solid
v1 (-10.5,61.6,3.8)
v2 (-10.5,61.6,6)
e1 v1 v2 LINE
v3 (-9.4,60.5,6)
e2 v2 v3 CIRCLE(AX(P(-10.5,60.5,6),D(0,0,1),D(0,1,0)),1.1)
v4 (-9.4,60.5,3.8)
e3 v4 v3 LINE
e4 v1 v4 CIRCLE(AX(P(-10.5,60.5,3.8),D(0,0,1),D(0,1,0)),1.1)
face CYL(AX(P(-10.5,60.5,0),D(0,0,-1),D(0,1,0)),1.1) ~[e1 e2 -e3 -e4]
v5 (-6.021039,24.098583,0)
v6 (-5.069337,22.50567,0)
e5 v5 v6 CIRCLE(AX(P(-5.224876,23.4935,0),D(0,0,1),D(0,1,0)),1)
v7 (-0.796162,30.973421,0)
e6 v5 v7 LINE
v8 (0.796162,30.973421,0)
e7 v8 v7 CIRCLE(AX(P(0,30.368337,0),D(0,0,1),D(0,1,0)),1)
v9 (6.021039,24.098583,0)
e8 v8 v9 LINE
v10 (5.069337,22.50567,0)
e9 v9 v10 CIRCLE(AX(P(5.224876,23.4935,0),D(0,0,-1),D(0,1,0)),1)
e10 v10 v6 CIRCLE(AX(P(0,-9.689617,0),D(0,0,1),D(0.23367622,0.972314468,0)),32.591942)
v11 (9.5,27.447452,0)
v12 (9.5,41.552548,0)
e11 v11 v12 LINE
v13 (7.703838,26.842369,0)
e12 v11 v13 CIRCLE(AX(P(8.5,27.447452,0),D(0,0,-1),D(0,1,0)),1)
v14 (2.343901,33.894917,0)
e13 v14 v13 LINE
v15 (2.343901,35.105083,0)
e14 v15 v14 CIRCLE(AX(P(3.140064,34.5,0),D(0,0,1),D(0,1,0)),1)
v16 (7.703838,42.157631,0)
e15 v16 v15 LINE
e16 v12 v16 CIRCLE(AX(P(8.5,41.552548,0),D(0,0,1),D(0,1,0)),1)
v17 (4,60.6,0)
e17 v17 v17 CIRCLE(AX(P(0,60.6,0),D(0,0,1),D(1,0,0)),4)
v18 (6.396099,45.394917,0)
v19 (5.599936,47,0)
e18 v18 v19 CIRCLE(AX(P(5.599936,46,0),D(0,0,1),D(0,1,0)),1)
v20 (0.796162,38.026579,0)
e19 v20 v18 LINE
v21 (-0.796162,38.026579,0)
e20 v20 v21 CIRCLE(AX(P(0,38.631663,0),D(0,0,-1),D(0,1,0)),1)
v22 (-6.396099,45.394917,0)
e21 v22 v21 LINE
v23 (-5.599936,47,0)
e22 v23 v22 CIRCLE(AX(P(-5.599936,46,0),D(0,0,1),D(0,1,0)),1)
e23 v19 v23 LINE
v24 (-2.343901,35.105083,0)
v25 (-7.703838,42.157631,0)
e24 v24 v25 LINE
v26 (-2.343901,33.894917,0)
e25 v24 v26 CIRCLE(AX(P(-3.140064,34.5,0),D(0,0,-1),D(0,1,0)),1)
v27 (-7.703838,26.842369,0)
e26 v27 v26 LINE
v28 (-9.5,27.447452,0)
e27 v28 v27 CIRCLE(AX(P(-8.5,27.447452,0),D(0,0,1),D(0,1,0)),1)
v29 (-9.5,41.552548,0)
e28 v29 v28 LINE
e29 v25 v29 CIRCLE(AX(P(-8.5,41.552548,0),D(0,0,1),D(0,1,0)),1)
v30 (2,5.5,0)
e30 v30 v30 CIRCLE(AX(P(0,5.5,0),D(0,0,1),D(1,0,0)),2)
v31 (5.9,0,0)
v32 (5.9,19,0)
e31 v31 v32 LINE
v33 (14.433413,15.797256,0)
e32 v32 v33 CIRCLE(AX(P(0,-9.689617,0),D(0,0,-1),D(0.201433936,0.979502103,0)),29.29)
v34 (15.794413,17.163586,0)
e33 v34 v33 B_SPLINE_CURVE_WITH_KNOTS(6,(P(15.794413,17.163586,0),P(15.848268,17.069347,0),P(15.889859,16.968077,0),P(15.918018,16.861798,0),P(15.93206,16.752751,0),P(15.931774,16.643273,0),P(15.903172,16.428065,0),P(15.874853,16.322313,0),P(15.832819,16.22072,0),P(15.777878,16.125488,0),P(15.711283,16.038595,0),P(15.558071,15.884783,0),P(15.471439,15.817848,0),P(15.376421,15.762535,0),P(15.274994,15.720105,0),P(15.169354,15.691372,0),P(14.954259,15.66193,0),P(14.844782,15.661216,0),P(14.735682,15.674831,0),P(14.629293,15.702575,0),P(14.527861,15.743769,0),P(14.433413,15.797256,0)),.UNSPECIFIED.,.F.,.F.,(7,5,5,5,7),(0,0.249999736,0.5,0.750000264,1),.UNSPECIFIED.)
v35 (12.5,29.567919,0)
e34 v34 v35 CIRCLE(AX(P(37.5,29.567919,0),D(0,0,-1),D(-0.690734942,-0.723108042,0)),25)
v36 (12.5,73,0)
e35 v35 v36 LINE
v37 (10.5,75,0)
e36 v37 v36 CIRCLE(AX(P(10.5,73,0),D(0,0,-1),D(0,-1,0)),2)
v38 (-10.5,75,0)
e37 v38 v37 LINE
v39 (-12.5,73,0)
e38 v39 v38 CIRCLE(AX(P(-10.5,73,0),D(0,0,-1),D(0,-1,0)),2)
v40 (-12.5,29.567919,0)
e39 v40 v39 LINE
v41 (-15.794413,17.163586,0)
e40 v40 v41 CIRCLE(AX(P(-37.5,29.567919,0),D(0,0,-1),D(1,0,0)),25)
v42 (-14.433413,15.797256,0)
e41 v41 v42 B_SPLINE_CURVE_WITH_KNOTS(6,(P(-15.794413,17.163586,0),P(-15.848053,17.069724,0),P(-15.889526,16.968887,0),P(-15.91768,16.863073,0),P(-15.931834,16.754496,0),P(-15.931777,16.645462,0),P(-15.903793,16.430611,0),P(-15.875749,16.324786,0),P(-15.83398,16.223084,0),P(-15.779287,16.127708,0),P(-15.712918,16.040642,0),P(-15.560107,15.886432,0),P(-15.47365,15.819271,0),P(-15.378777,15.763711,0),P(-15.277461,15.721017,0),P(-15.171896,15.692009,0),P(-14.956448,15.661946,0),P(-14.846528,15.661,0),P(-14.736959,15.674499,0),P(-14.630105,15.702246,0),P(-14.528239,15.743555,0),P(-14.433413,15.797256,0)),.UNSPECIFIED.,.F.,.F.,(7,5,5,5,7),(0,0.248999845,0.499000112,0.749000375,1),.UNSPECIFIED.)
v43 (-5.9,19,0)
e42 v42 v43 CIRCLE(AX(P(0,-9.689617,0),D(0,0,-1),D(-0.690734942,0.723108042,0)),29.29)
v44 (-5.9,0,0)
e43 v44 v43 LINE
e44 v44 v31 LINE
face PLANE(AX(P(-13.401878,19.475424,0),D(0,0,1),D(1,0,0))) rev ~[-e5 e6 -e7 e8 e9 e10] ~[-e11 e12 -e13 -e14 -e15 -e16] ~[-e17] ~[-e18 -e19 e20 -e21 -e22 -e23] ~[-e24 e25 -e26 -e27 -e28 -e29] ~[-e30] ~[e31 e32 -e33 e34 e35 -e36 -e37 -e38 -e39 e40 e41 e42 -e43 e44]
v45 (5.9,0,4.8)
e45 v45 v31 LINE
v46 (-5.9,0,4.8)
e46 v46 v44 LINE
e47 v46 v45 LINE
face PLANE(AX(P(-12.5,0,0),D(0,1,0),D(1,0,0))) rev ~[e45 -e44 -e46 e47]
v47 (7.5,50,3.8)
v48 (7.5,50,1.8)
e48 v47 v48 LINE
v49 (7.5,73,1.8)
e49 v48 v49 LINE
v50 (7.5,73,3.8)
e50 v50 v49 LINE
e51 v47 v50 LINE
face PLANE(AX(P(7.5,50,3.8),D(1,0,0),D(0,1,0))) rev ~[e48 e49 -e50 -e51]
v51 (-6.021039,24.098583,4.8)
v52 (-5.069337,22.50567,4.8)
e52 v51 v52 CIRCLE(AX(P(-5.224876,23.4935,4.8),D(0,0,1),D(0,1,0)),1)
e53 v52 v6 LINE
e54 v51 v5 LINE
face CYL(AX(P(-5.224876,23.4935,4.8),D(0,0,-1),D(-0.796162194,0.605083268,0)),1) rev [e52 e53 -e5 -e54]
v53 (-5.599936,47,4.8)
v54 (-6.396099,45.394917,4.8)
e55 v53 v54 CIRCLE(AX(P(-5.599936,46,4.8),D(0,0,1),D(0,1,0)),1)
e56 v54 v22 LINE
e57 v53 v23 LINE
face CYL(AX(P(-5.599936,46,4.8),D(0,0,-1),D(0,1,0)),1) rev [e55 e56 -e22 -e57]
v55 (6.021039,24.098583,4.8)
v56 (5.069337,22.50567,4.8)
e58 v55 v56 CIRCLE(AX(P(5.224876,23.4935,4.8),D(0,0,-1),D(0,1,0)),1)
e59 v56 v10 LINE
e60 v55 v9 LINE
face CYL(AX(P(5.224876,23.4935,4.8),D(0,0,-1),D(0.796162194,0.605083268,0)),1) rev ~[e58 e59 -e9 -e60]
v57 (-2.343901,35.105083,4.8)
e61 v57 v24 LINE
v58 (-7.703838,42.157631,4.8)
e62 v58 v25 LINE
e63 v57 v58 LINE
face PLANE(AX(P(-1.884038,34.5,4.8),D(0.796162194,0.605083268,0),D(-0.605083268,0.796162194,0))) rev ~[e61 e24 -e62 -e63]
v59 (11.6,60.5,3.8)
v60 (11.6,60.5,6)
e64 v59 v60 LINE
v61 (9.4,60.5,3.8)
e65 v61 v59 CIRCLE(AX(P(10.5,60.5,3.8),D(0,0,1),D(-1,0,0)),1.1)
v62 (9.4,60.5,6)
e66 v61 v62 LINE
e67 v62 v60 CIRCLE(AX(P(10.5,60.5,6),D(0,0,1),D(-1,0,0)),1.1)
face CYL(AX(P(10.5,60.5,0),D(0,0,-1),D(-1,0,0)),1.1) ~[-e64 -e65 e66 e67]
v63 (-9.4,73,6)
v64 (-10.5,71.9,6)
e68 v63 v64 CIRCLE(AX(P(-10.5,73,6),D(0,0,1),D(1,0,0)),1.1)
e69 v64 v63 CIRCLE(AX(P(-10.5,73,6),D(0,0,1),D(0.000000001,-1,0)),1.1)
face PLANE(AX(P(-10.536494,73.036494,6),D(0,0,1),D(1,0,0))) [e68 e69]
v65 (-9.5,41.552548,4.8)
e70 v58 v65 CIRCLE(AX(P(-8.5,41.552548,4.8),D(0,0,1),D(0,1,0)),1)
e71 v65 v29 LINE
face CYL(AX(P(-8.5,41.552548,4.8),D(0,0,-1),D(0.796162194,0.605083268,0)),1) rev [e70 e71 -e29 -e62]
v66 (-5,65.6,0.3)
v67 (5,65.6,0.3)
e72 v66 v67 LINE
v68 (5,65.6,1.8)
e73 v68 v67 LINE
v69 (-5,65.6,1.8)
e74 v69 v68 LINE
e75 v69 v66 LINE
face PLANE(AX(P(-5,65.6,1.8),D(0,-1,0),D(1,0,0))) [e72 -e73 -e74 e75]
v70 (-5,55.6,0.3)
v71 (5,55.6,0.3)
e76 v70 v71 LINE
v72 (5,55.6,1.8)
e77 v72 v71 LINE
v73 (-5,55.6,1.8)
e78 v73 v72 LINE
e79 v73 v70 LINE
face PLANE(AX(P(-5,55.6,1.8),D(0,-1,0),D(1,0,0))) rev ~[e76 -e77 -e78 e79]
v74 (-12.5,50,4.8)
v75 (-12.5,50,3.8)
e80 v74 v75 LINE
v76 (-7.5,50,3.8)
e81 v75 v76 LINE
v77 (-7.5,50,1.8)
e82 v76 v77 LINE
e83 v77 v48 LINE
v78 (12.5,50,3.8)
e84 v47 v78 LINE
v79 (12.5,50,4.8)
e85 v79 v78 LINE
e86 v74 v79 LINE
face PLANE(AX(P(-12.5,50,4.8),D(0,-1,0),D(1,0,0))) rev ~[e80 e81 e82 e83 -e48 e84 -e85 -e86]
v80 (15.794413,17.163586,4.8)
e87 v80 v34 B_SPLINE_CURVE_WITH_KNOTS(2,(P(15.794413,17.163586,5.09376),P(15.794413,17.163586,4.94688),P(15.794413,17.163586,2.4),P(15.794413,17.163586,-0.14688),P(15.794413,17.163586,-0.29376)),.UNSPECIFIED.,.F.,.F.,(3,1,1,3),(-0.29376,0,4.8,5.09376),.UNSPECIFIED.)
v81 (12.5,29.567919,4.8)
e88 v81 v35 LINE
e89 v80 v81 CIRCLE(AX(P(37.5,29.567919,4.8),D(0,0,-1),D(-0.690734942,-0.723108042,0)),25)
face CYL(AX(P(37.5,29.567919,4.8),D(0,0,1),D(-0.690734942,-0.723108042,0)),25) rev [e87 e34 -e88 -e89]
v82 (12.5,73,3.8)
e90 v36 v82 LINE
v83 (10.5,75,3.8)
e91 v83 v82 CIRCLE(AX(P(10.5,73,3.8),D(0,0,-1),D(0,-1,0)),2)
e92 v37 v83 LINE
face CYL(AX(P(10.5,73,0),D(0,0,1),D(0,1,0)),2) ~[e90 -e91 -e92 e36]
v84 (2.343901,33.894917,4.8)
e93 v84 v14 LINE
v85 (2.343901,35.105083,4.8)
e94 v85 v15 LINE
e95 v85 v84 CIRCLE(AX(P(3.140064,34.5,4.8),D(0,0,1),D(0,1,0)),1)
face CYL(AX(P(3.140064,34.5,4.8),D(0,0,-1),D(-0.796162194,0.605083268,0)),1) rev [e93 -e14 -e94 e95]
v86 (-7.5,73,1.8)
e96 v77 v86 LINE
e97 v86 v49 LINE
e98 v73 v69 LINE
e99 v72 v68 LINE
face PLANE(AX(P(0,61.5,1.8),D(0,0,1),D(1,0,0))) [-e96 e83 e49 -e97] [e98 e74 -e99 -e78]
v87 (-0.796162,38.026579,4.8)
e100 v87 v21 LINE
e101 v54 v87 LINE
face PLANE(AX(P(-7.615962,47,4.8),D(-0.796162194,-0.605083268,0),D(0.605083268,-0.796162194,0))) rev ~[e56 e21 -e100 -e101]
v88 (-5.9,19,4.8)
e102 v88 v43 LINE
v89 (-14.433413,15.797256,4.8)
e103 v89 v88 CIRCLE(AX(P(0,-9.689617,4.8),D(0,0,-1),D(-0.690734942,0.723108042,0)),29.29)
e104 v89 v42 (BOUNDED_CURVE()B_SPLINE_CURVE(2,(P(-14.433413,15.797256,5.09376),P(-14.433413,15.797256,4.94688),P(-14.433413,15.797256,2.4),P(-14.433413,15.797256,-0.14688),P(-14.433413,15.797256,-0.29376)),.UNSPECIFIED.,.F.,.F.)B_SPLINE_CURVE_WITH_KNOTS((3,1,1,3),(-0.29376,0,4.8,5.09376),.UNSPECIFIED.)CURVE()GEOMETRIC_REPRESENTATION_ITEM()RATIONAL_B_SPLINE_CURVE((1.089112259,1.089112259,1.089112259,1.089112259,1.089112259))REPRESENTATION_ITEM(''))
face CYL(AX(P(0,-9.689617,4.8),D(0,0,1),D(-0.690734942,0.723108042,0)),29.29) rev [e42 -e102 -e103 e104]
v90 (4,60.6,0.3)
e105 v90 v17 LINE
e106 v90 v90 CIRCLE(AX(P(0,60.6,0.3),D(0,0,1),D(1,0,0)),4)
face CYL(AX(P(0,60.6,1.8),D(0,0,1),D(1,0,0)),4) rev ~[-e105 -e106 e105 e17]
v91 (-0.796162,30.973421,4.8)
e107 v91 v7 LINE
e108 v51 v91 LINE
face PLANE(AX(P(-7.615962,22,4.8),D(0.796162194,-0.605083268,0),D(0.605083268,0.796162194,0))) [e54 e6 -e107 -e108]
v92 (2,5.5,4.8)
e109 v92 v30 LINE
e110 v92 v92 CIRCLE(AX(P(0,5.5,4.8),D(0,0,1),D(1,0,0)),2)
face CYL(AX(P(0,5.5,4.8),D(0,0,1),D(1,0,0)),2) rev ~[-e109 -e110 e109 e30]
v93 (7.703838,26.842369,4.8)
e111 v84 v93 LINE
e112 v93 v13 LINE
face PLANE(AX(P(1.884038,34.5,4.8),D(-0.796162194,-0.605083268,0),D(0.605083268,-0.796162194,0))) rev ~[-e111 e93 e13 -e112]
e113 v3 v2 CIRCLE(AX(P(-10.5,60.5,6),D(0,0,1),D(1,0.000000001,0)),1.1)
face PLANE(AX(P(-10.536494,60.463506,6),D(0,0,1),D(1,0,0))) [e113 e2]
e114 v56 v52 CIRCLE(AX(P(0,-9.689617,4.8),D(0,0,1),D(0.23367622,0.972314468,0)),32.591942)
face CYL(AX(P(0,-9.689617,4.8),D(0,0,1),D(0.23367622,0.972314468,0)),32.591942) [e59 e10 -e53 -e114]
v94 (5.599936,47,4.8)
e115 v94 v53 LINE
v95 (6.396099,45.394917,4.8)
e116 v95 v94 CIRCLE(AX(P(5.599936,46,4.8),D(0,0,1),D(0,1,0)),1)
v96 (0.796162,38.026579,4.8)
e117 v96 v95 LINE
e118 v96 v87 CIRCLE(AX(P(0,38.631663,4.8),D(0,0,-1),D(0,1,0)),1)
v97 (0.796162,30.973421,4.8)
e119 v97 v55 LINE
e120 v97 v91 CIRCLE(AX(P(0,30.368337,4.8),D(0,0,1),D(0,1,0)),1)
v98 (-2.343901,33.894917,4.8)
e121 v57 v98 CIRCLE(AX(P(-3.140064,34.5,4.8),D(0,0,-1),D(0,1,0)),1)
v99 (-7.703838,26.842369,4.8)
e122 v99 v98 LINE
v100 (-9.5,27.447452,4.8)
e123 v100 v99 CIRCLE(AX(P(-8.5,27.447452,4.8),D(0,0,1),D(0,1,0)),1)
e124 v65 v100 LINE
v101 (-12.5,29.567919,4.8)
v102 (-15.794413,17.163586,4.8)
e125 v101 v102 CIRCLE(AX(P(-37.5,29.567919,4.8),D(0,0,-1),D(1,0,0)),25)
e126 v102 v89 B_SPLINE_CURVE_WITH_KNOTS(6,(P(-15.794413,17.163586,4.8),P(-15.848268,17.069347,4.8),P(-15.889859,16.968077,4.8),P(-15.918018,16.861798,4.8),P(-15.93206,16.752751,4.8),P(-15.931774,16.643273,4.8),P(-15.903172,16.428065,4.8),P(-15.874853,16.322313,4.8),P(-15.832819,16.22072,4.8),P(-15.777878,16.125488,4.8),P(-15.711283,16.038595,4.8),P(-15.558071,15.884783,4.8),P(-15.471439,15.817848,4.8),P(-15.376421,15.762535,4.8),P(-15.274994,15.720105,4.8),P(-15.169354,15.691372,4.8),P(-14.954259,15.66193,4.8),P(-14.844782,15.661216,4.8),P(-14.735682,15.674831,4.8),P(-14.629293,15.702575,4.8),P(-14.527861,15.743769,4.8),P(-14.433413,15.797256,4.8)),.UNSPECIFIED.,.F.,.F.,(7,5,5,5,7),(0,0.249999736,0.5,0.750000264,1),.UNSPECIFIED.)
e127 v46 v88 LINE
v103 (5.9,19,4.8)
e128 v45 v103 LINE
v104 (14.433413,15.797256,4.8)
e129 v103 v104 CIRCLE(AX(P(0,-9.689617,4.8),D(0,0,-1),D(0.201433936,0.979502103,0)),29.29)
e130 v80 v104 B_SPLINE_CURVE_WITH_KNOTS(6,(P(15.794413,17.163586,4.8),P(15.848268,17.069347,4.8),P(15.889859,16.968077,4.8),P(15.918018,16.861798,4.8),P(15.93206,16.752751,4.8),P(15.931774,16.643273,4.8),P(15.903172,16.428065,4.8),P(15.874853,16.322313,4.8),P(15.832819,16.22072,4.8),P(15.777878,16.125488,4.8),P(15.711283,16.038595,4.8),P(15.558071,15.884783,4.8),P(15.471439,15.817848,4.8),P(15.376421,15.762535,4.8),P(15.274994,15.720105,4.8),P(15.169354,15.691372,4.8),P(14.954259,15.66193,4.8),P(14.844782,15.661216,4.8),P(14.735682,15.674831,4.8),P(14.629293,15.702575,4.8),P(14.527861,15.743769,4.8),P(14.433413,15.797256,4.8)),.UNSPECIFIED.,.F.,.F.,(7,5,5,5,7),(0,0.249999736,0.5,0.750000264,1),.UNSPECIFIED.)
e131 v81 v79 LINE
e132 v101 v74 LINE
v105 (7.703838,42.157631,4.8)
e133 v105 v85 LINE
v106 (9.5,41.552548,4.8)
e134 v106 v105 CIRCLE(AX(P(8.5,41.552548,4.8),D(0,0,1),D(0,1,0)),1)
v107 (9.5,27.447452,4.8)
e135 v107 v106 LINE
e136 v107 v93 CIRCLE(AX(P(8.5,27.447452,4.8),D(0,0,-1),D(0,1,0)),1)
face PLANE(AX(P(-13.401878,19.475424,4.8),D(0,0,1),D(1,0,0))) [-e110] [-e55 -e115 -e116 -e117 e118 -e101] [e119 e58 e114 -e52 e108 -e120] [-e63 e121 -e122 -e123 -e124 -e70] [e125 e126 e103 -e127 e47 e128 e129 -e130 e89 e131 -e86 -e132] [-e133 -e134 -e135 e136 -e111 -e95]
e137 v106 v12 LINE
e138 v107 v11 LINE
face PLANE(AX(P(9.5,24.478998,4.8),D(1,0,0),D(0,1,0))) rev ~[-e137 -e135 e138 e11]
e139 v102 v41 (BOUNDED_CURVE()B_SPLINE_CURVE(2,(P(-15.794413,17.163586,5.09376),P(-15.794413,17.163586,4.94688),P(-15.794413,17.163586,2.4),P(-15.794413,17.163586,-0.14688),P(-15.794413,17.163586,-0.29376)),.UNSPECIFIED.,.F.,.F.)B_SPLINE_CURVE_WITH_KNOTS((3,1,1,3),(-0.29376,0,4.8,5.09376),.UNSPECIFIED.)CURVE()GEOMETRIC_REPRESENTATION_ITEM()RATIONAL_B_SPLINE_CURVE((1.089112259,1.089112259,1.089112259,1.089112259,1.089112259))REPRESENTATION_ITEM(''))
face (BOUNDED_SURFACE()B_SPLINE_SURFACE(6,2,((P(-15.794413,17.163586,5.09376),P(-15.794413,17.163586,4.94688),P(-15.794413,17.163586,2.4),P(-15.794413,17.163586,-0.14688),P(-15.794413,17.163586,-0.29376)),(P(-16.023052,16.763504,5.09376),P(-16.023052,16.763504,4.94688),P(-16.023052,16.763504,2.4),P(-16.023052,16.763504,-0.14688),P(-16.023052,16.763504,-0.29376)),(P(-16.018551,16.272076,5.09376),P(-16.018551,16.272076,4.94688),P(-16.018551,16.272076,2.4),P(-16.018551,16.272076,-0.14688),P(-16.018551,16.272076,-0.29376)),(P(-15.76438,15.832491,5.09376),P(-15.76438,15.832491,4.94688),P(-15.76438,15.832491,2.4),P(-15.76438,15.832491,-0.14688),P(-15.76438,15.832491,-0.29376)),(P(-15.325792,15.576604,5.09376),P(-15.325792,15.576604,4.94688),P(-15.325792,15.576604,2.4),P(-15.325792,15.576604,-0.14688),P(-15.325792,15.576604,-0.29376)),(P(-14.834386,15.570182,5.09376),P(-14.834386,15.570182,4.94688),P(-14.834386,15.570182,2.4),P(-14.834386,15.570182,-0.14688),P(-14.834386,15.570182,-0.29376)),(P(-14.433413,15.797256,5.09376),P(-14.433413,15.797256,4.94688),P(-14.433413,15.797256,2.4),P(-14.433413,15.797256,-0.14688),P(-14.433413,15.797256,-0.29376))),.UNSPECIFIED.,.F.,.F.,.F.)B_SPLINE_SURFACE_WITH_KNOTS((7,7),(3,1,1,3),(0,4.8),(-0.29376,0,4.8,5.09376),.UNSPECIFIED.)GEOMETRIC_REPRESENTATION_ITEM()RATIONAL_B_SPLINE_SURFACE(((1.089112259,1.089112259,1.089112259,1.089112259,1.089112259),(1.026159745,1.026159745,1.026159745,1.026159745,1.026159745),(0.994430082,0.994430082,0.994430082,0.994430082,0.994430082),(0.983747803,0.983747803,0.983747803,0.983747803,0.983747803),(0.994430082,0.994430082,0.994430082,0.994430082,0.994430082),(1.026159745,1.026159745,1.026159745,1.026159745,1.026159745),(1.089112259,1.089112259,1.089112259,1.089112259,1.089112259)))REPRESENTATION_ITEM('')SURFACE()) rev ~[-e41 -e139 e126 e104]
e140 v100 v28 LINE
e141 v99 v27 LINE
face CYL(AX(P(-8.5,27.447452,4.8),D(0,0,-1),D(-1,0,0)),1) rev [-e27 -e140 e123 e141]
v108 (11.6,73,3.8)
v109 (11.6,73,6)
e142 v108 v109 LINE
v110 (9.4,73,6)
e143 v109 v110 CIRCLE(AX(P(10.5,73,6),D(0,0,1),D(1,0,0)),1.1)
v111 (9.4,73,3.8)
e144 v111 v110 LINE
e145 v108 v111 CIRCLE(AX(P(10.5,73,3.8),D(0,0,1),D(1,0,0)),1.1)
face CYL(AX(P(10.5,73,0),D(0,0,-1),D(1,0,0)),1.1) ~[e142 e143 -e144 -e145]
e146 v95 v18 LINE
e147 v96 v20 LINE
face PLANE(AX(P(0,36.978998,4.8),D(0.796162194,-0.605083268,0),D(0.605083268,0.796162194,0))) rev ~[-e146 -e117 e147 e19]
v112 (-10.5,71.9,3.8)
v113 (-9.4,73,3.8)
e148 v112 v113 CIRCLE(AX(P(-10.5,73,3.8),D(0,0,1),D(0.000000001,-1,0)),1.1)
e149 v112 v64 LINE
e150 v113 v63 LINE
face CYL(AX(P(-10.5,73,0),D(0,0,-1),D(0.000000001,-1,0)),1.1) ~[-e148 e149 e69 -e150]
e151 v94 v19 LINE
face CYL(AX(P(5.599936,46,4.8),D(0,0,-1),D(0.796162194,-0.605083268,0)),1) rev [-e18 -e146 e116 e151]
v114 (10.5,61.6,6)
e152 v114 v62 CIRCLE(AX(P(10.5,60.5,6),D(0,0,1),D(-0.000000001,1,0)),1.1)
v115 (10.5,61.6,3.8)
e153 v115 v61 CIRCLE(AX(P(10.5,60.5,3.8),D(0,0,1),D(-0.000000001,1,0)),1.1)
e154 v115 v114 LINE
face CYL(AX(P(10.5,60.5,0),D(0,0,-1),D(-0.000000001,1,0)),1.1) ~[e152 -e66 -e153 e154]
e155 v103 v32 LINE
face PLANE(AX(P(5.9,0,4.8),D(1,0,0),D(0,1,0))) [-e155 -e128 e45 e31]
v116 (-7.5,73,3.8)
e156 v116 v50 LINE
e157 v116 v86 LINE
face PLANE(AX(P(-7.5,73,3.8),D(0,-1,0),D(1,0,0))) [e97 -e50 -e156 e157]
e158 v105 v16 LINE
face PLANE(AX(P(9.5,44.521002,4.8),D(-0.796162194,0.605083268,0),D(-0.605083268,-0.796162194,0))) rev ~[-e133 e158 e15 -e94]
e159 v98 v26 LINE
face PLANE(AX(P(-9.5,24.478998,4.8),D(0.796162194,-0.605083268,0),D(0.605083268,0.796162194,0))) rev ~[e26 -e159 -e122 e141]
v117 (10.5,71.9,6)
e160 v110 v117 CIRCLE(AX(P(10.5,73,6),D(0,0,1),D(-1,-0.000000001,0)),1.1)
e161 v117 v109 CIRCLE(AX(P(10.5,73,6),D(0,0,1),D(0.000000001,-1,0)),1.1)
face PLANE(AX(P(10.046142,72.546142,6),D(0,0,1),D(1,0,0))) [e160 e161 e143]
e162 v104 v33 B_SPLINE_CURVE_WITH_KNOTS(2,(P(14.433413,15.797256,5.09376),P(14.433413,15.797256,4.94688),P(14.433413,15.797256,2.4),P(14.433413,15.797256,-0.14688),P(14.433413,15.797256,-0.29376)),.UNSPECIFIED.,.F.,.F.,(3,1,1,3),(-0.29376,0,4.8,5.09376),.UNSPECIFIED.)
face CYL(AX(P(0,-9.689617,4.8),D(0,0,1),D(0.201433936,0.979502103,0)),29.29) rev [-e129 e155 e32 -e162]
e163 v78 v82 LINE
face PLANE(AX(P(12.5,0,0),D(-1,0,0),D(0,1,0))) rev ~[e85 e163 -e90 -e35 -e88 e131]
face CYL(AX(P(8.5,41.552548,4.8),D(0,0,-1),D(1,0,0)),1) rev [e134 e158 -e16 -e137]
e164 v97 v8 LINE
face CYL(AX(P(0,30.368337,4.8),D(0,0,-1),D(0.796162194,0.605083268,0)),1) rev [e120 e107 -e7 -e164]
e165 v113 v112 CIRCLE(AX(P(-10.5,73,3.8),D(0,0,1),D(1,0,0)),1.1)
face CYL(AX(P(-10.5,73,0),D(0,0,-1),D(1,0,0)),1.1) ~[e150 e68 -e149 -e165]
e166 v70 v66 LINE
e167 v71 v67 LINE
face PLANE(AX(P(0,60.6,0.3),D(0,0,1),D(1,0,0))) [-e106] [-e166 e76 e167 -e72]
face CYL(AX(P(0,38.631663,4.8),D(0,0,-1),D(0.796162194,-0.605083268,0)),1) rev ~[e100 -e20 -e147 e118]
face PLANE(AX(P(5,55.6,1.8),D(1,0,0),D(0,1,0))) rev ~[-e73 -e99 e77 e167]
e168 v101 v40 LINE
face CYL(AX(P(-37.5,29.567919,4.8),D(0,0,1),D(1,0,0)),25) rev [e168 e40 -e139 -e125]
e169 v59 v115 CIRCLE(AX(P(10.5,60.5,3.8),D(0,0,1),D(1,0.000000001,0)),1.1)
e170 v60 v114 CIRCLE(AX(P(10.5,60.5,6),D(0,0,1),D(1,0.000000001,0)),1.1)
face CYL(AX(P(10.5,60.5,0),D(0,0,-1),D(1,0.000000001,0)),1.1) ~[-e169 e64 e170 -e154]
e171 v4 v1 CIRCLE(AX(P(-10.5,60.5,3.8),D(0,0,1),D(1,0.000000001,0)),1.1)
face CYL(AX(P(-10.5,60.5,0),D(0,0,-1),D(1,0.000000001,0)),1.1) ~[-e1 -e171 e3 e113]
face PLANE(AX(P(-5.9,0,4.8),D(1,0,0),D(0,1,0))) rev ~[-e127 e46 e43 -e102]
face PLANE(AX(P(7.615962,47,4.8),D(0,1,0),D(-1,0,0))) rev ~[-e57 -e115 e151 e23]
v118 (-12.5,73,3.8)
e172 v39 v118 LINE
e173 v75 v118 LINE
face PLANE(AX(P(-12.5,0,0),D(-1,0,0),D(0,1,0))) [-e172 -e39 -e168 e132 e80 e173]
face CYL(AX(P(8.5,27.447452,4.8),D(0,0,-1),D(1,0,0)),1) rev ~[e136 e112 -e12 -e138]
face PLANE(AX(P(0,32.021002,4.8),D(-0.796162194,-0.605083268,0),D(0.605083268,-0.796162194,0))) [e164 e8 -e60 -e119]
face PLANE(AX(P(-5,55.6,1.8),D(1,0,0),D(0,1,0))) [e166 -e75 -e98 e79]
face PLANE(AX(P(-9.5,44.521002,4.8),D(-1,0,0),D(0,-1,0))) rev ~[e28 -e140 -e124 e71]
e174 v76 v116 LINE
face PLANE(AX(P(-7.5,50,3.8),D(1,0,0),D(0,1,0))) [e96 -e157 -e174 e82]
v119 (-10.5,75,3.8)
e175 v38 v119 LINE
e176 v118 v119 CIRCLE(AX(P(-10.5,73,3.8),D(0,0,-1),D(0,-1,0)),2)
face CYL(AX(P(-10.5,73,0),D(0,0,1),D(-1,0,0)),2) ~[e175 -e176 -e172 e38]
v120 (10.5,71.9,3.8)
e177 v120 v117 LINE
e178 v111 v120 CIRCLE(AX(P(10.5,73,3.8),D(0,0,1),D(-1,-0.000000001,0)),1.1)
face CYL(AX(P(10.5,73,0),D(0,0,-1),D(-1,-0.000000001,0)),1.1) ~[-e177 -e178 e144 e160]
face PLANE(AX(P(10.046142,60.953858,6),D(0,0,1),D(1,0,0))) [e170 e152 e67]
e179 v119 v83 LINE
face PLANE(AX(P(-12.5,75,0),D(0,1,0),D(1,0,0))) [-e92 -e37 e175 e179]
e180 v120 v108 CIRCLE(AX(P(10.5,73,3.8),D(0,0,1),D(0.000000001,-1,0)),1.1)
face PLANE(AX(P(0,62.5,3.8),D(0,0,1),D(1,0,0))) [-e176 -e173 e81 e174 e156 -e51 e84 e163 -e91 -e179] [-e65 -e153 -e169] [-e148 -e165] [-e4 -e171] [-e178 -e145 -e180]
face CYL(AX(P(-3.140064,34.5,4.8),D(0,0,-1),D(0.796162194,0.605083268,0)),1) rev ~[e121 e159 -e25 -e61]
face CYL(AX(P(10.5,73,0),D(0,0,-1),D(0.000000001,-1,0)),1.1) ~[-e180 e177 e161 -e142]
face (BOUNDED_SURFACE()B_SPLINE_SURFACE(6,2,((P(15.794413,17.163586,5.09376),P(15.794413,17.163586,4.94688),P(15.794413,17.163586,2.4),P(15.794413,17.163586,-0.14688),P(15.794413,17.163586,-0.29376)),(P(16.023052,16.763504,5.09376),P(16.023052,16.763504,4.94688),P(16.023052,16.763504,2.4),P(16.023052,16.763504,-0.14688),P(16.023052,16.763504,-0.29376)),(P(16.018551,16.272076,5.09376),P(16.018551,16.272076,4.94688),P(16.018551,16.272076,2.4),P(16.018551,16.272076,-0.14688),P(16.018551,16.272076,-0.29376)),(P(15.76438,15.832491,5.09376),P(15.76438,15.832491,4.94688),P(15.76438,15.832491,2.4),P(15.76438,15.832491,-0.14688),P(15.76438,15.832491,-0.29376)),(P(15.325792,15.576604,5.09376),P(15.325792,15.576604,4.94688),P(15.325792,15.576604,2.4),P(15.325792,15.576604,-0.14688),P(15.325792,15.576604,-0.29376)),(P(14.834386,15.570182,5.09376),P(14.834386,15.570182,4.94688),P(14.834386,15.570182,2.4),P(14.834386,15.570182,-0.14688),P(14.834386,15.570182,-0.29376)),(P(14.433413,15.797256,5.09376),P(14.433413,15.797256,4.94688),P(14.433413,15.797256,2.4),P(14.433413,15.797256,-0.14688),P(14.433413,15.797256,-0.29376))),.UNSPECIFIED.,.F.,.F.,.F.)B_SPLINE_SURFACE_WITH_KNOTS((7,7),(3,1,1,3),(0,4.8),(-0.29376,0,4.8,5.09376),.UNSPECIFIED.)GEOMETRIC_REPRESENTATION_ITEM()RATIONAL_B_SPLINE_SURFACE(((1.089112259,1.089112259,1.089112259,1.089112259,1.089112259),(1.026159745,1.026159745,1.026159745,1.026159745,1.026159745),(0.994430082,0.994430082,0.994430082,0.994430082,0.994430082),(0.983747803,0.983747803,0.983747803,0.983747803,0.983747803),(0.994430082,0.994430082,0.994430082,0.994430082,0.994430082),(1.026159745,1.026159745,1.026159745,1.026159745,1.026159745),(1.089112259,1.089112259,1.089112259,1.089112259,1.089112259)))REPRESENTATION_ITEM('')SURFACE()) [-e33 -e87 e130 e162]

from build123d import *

# Parameters (mm, degrees)
SKIZZE1_W                            = 25
SKIZZE1_H                            = 75
AUFSATZ_LINEAR_AUSTRAGEN1_DEPTH      = 4.8
SCHNITT_LINEAR_AUSTRAGEN1_DEPTH      = 5
SKIZZE3_W                            = 25
SKIZZE3_H                            = 25
SCHNITT_LINEAR_AUSTRAGEN2_DEPTH      = 1
SKIZZE4_W                            = 15
SKIZZE4_H                            = 23
SCHNITT_LINEAR_AUSTRAGEN3_DEPTH      = 2
SKIZZE5_R                            = 4
SCHNITT_LINEAR_AUSTRAGEN4_DEPTH      = 2.8
SKIZZE6_W                            = 10
SKIZZE6_H                            = 10
SKIZZE6_R                            = 4
SCHNITT_LINEAR_AUSTRAGEN5_DEPTH      = 1.5
AUFSATZ_LINEAR_AUSTRAGEN2_DEPTH      = 6
SKIZZE8_R                            = 2
SCHNITT_LINEAR_AUSTRAGEN6_DEPTH      = 2.2
SCHNITT_LINEAR_AUSTRAGEN6_DEPTH_BACK = 5.8
SKIZZE9_W                            = 6.6
SKIZZE9_H                            = 19
SCHNITT_LINEAR_AUSTRAGEN7_DEPTH      = 5.8
AUFSATZ_LINEAR_AUSTRAGEN3_DEPTH      = 4.8
VERRUNDUNG1_R                        = 2
VERRUNDUNG2_R                        = 1
SCHNITT_LINEAR_AUSTRAGEN8_DEPTH      = 5.8000001
VERRUNDUNG3_R                        = 1


with BuildPart() as part:
    # Skizze1 → Aufsatz-Linear austragen1 (new body)
    with BuildSketch(Plane.XY):
        with Locations((0, 37.5)):
            Rectangle(SKIZZE1_W, SKIZZE1_H)
    extrude(amount=AUFSATZ_LINEAR_AUSTRAGEN1_DEPTH)

    # Skizze2 → Schnitt-Linear austragen1 (cut)
    with BuildSketch(Plane.XY.offset(4.8)):
        with BuildLine():
            ThreePointArc((-9.4, 73), (-11.277817459, 73.777817459), (-10.5, 71.9))
            Line((-10.5, 71.9), (-10.5, 73))
            Line((-10.5, 73), (-9.4, 73))
        make_face()
        with BuildLine():
            Line((-10.5, 73), (-10.5, 71.9))
            ThreePointArc((-10.5, 71.9), (-9.722182541, 72.222182541), (-9.4, 73))
            Line((-9.4, 73), (-10.5, 73))
        make_face()
        with BuildLine():
            ThreePointArc((9.4, 73), (9.722182541, 72.222182541), (10.5, 71.9))
            Line((10.5, 71.9), (10.5, 73))
            Line((10.5, 73), (9.4, 73))
        make_face()
        with BuildLine():
            Line((10.5, 73), (10.5, 71.9))
            ThreePointArc((10.5, 71.9), (11.277817459, 72.222182541), (11.6, 73))
            ThreePointArc((11.6, 73), (10.5, 74.1), (9.4, 73))
            Line((9.4, 73), (10.5, 73))
        make_face()
        with BuildLine():
            ThreePointArc((9.4, 73), (9.722182541, 72.222182541), (10.5, 71.9))
            Line((10.5, 71.9), (10.5, 73))
            Line((10.5, 73), (9.4, 73))
        make_face()
        with BuildLine():
            Line((10.5, 73), (10.5, 71.9))
            ThreePointArc((10.5, 71.9), (11.277817459, 72.222182541), (11.6, 73))
            ThreePointArc((11.6, 73), (10.5, 74.1), (9.4, 73))
            Line((9.4, 73), (10.5, 73))
        make_face()
        with BuildLine():
            ThreePointArc((-10.5, 61.6), (-11.277817459, 59.722182541), (-9.4, 60.5))
            Line((-9.4, 60.5), (-10.5, 60.5))
            Line((-10.5, 60.5), (-10.5, 61.6))
        make_face()
        with BuildLine():
            Line((-10.5, 60.5), (-9.4, 60.5))
            ThreePointArc((-9.4, 60.5), (-9.722182541, 61.277817459), (-10.5, 61.6))
            Line((-10.5, 61.6), (-10.5, 60.5))
        make_face()
        with BuildLine():
            ThreePointArc((-10.5, 61.6), (-11.277817459, 59.722182541), (-9.4, 60.5))
            Line((-9.4, 60.5), (-10.5, 60.5))
            Line((-10.5, 60.5), (-10.5, 61.6))
        make_face()
        with BuildLine():
            Line((-10.5, 60.5), (-9.4, 60.5))
            ThreePointArc((-9.4, 60.5), (-9.722182541, 61.277817459), (-10.5, 61.6))
            Line((-10.5, 61.6), (-10.5, 60.5))
        make_face()
        with BuildLine():
            ThreePointArc((10.5, 61.6), (9.722182541, 61.277817459), (9.4, 60.5))
            Line((9.4, 60.5), (10.5, 60.5))
            Line((10.5, 60.5), (10.5, 61.6))
        make_face()
        with BuildLine():
            Line((10.5, 60.5), (9.4, 60.5))
            ThreePointArc((9.4, 60.5), (10.5, 59.4), (11.6, 60.5))
            ThreePointArc((11.6, 60.5), (11.277817459, 61.277817459), (10.5, 61.6))
            Line((10.5, 61.6), (10.5, 60.5))
        make_face()
        with BuildLine():
            ThreePointArc((10.5, 61.6), (9.722182541, 61.277817459), (9.4, 60.5))
            Line((9.4, 60.5), (10.5, 60.5))
            Line((10.5, 60.5), (10.5, 61.6))
        make_face()
        with BuildLine():
            Line((10.5, 60.5), (9.4, 60.5))
            ThreePointArc((9.4, 60.5), (10.5, 59.4), (11.6, 60.5))
            ThreePointArc((11.6, 60.5), (11.277817459, 61.277817459), (10.5, 61.6))
            Line((10.5, 61.6), (10.5, 60.5))
        make_face()
        with BuildLine():
            ThreePointArc((-9.4, 73), (-11.277817459, 73.777817459), (-10.5, 71.9))
            Line((-10.5, 71.9), (-10.5, 73))
            Line((-10.5, 73), (-9.4, 73))
        make_face()
        with BuildLine():
            Line((-10.5, 73), (-10.5, 71.9))
            ThreePointArc((-10.5, 71.9), (-9.722182541, 72.222182541), (-9.4, 73))
            Line((-9.4, 73), (-10.5, 73))
        make_face()
    extrude(amount=-SCHNITT_LINEAR_AUSTRAGEN1_DEPTH, mode=Mode.SUBTRACT)

    # Skizze3 → Schnitt-Linear austragen2 (cut)
    with BuildSketch(Plane.XY.offset(4.8)):
        with Locations((0, 62.5)):
            Rectangle(SKIZZE3_W, SKIZZE3_H)
    extrude(amount=-SCHNITT_LINEAR_AUSTRAGEN2_DEPTH, mode=Mode.SUBTRACT)

    # Skizze4 → Schnitt-Linear austragen3 (cut)
    with BuildSketch(Plane.XY.offset(3.8)):
        with Locations((0, 61.5)):
            Rectangle(SKIZZE4_W, SKIZZE4_H)
    extrude(amount=-SCHNITT_LINEAR_AUSTRAGEN3_DEPTH, mode=Mode.SUBTRACT)

    # Skizze5 → Schnitt-Linear austragen4 (cut, through all)
    with BuildSketch(Plane.XY.offset(1.8)):
        with Locations((0, 60.6)):
            Circle(SKIZZE5_R)
    extrude(amount=-SCHNITT_LINEAR_AUSTRAGEN4_DEPTH, mode=Mode.SUBTRACT)

    # Skizze6 → Schnitt-Linear austragen5 (cut)
    with BuildSketch(Plane.XY.offset(1.8)):
        with Locations((0, 60.6)):
            Rectangle(SKIZZE6_W, SKIZZE6_H)
        with Locations((0, 60.6)):
            Circle(SKIZZE6_R, mode=Mode.SUBTRACT)
    extrude(amount=-SCHNITT_LINEAR_AUSTRAGEN5_DEPTH, mode=Mode.SUBTRACT)

    # Skizze7 → Aufsatz-Linear austragen2 (add)
    with BuildSketch(Plane.XY):
        with BuildLine():
            ThreePointArc((-10.5, 61.6), (-11.277817459, 59.722182541), (-9.4, 60.5))
            Line((-9.4, 60.5), (-10.5, 60.5))
            Line((-10.5, 60.5), (-10.5, 61.6))
        make_face()
        with BuildLine():
            Line((-10.5, 60.5), (-9.4, 60.5))
            ThreePointArc((-9.4, 60.5), (-9.722182541, 61.277817459), (-10.5, 61.6))
            Line((-10.5, 61.6), (-10.5, 60.5))
        make_face()
        with BuildLine():
            ThreePointArc((-9.4, 73), (-11.277817459, 73.777817459), (-10.5, 71.9))
            Line((-10.5, 71.9), (-10.5, 73))
            Line((-10.5, 73), (-9.4, 73))
        make_face()
        with BuildLine():
            Line((-10.5, 73), (-10.5, 71.9))
            ThreePointArc((-10.5, 71.9), (-9.722182541, 72.222182541), (-9.4, 73))
            Line((-9.4, 73), (-10.5, 73))
        make_face()
        with BuildLine():
            ThreePointArc((10.5, 61.6), (9.722182541, 61.277817459), (9.4, 60.5))
            Line((9.4, 60.5), (10.5, 60.5))
            Line((10.5, 60.5), (10.5, 61.6))
        make_face()
        with BuildLine():
            Line((10.5, 60.5), (9.4, 60.5))
            ThreePointArc((9.4, 60.5), (10.5, 59.4), (11.6, 60.5))
            ThreePointArc((11.6, 60.5), (11.277817459, 61.277817459), (10.5, 61.6))
            Line((10.5, 61.6), (10.5, 60.5))
        make_face()
        with BuildLine():
            ThreePointArc((9.4, 73), (9.722182541, 72.222182541), (10.5, 71.9))
            Line((10.5, 71.9), (10.5, 73))
            Line((10.5, 73), (9.4, 73))
        make_face()
        with BuildLine():
            Line((10.5, 73), (10.5, 71.9))
            ThreePointArc((10.5, 71.9), (11.277817459, 72.222182541), (11.6, 73))
            ThreePointArc((11.6, 73), (10.5, 74.1), (9.4, 73))
            Line((9.4, 73), (10.5, 73))
        make_face()
        with BuildLine():
            ThreePointArc((9.4, 73), (9.722182541, 72.222182541), (10.5, 71.9))
            Line((10.5, 71.9), (10.5, 73))
            Line((10.5, 73), (9.4, 73))
        make_face()
        with BuildLine():
            Line((10.5, 73), (10.5, 71.9))
            ThreePointArc((10.5, 71.9), (11.277817459, 72.222182541), (11.6, 73))
            ThreePointArc((11.6, 73), (10.5, 74.1), (9.4, 73))
            Line((9.4, 73), (10.5, 73))
        make_face()
        with BuildLine():
            ThreePointArc((10.5, 61.6), (9.722182541, 61.277817459), (9.4, 60.5))
            Line((9.4, 60.5), (10.5, 60.5))
            Line((10.5, 60.5), (10.5, 61.6))
        make_face()
        with BuildLine():
            Line((10.5, 60.5), (9.4, 60.5))
            ThreePointArc((9.4, 60.5), (10.5, 59.4), (11.6, 60.5))
            ThreePointArc((11.6, 60.5), (11.277817459, 61.277817459), (10.5, 61.6))
            Line((10.5, 61.6), (10.5, 60.5))
        make_face()
        with BuildLine():
            ThreePointArc((-10.5, 61.6), (-11.277817459, 59.722182541), (-9.4, 60.5))
            Line((-9.4, 60.5), (-10.5, 60.5))
            Line((-10.5, 60.5), (-10.5, 61.6))
        make_face()
        with BuildLine():
            Line((-10.5, 60.5), (-9.4, 60.5))
            ThreePointArc((-9.4, 60.5), (-9.722182541, 61.277817459), (-10.5, 61.6))
            Line((-10.5, 61.6), (-10.5, 60.5))
        make_face()
        with BuildLine():
            ThreePointArc((-9.4, 73), (-11.277817459, 73.777817459), (-10.5, 71.9))
            Line((-10.5, 71.9), (-10.5, 73))
            Line((-10.5, 73), (-9.4, 73))
        make_face()
        with BuildLine():
            Line((-10.5, 73), (-10.5, 71.9))
            ThreePointArc((-10.5, 71.9), (-9.722182541, 72.222182541), (-9.4, 73))
            Line((-9.4, 73), (-10.5, 73))
        make_face()
    extrude(amount=AUFSATZ_LINEAR_AUSTRAGEN2_DEPTH)

    # Skizze8 → Schnitt-Linear austragen6 (cut, two sides)
    with BuildSketch(Plane.XY.offset(4.8)) as schnitt_linear_austragen6_sk:
        with Locations((0, 5.5)):
            Circle(SKIZZE8_R)
    extrude(amount=SCHNITT_LINEAR_AUSTRAGEN6_DEPTH, mode=Mode.SUBTRACT)
    extrude(schnitt_linear_austragen6_sk.sketch, amount=-SCHNITT_LINEAR_AUSTRAGEN6_DEPTH_BACK, mode=Mode.SUBTRACT)

    # Skizze9 → Schnitt-Linear austragen7 (cut, through all)
    with BuildSketch(Plane.XY.offset(4.8)):
        with Locations((-9.2, 9.5)):
            Rectangle(SKIZZE9_W, SKIZZE9_H)
        with Locations((9.2, 9.5)):
            Rectangle(SKIZZE9_W, SKIZZE9_H)
    extrude(amount=-SCHNITT_LINEAR_AUSTRAGEN7_DEPTH, mode=Mode.SUBTRACT)

    # Skizze10 → Aufsatz-Linear austragen3 (add)
    with BuildSketch(Plane.XY.offset(4.8)):
        with BuildLine():
            ThreePointArc((-20.231626451, 11.490217952), (-13.594656371, 16.254350305), (-5.9, 19))
            Line((-5.9, 19), (-12.5, 19))
            Line((-12.5, 19), (-12.5, 29.567918994))
            ThreePointArc((-12.5, 29.567918994), (-14.514033208, 19.73708329), (-20.231626451, 11.490217952))
        make_face()
        with BuildLine():
            ThreePointArc((5.9, 19), (13.594656371, 16.254350305), (20.231626451, 11.490217952))
            ThreePointArc((20.231626451, 11.490217952), (14.514033208, 19.73708329), (12.5, 29.567918994))
            Line((12.5, 29.567918994), (12.5, 19))
            Line((12.5, 19), (5.9, 19))
        make_face()
    extrude(amount=-AUFSATZ_LINEAR_AUSTRAGEN3_DEPTH)

    # Verrundung1
    verrundung1_edges = [part.edges().sort_by_distance(p)[0] for p in [
        (-12.5, 75, 1.9),
        (12.5, 75, 1.9),
    ]]
    fillet(verrundung1_edges, radius=VERRUNDUNG1_R)

    # Verrundung2
    verrundung2_edges = [part.edges().sort_by_distance(p)[0] for p in [
        (-20.231626451, 11.490217952, 2.4),
        (20.231626451, 11.490217952, 2.4),
    ]]
    fillet(verrundung2_edges, radius=VERRUNDUNG2_R)

    # Skizze12 → Schnitt-Linear austragen8 (cut, through all)
    with BuildSketch(Plane.XY.offset(4.8)):
        Polygon((-1.884038216, 34.5), (-9.5, 44.521002347), (-9.5, 24.478997653), align=None)
        Polygon((0, 36.978997653), (7.615961784, 47), (-7.615961784, 47), align=None)
        Polygon((9.5, 24.478997653), (9.5, 44.521002347), (1.884038216, 34.5), align=None)
        with BuildLine():
            ThreePointArc((7.615961784, 22), (0, 22.902325259), (-7.615961784, 22))
            Line((-7.615961784, 22), (0, 32.021002347))
            Line((0, 32.021002347), (7.615961784, 22))
        make_face()
    extrude(amount=-SCHNITT_LINEAR_AUSTRAGEN8_DEPTH, mode=Mode.SUBTRACT)

    # Verrundung3
    verrundung3_edges = [part.edges().sort_by_distance(p)[0] for p in [
        (1.884038216, 34.5, 2.4),
        (9.5, 44.521002347, 2.4),
        (9.5, 24.478997653, 2.4),
        (0, 36.978997653, 2.4),
        (-7.615961784, 47, 2.4),
        (7.615961784, 47, 2.4),
        (7.615961784, 22, 2.4),
        (-7.615961784, 22, 2.4),
        (0, 32.021002347, 2.4),
        (-1.884038216, 34.5, 2.4),
        (-9.5, 24.478997653, 2.4),
        (-9.5, 44.521002347, 2.4),
    ]]
    fillet(verrundung3_edges, radius=VERRUNDUNG3_R)


solid = part.part
